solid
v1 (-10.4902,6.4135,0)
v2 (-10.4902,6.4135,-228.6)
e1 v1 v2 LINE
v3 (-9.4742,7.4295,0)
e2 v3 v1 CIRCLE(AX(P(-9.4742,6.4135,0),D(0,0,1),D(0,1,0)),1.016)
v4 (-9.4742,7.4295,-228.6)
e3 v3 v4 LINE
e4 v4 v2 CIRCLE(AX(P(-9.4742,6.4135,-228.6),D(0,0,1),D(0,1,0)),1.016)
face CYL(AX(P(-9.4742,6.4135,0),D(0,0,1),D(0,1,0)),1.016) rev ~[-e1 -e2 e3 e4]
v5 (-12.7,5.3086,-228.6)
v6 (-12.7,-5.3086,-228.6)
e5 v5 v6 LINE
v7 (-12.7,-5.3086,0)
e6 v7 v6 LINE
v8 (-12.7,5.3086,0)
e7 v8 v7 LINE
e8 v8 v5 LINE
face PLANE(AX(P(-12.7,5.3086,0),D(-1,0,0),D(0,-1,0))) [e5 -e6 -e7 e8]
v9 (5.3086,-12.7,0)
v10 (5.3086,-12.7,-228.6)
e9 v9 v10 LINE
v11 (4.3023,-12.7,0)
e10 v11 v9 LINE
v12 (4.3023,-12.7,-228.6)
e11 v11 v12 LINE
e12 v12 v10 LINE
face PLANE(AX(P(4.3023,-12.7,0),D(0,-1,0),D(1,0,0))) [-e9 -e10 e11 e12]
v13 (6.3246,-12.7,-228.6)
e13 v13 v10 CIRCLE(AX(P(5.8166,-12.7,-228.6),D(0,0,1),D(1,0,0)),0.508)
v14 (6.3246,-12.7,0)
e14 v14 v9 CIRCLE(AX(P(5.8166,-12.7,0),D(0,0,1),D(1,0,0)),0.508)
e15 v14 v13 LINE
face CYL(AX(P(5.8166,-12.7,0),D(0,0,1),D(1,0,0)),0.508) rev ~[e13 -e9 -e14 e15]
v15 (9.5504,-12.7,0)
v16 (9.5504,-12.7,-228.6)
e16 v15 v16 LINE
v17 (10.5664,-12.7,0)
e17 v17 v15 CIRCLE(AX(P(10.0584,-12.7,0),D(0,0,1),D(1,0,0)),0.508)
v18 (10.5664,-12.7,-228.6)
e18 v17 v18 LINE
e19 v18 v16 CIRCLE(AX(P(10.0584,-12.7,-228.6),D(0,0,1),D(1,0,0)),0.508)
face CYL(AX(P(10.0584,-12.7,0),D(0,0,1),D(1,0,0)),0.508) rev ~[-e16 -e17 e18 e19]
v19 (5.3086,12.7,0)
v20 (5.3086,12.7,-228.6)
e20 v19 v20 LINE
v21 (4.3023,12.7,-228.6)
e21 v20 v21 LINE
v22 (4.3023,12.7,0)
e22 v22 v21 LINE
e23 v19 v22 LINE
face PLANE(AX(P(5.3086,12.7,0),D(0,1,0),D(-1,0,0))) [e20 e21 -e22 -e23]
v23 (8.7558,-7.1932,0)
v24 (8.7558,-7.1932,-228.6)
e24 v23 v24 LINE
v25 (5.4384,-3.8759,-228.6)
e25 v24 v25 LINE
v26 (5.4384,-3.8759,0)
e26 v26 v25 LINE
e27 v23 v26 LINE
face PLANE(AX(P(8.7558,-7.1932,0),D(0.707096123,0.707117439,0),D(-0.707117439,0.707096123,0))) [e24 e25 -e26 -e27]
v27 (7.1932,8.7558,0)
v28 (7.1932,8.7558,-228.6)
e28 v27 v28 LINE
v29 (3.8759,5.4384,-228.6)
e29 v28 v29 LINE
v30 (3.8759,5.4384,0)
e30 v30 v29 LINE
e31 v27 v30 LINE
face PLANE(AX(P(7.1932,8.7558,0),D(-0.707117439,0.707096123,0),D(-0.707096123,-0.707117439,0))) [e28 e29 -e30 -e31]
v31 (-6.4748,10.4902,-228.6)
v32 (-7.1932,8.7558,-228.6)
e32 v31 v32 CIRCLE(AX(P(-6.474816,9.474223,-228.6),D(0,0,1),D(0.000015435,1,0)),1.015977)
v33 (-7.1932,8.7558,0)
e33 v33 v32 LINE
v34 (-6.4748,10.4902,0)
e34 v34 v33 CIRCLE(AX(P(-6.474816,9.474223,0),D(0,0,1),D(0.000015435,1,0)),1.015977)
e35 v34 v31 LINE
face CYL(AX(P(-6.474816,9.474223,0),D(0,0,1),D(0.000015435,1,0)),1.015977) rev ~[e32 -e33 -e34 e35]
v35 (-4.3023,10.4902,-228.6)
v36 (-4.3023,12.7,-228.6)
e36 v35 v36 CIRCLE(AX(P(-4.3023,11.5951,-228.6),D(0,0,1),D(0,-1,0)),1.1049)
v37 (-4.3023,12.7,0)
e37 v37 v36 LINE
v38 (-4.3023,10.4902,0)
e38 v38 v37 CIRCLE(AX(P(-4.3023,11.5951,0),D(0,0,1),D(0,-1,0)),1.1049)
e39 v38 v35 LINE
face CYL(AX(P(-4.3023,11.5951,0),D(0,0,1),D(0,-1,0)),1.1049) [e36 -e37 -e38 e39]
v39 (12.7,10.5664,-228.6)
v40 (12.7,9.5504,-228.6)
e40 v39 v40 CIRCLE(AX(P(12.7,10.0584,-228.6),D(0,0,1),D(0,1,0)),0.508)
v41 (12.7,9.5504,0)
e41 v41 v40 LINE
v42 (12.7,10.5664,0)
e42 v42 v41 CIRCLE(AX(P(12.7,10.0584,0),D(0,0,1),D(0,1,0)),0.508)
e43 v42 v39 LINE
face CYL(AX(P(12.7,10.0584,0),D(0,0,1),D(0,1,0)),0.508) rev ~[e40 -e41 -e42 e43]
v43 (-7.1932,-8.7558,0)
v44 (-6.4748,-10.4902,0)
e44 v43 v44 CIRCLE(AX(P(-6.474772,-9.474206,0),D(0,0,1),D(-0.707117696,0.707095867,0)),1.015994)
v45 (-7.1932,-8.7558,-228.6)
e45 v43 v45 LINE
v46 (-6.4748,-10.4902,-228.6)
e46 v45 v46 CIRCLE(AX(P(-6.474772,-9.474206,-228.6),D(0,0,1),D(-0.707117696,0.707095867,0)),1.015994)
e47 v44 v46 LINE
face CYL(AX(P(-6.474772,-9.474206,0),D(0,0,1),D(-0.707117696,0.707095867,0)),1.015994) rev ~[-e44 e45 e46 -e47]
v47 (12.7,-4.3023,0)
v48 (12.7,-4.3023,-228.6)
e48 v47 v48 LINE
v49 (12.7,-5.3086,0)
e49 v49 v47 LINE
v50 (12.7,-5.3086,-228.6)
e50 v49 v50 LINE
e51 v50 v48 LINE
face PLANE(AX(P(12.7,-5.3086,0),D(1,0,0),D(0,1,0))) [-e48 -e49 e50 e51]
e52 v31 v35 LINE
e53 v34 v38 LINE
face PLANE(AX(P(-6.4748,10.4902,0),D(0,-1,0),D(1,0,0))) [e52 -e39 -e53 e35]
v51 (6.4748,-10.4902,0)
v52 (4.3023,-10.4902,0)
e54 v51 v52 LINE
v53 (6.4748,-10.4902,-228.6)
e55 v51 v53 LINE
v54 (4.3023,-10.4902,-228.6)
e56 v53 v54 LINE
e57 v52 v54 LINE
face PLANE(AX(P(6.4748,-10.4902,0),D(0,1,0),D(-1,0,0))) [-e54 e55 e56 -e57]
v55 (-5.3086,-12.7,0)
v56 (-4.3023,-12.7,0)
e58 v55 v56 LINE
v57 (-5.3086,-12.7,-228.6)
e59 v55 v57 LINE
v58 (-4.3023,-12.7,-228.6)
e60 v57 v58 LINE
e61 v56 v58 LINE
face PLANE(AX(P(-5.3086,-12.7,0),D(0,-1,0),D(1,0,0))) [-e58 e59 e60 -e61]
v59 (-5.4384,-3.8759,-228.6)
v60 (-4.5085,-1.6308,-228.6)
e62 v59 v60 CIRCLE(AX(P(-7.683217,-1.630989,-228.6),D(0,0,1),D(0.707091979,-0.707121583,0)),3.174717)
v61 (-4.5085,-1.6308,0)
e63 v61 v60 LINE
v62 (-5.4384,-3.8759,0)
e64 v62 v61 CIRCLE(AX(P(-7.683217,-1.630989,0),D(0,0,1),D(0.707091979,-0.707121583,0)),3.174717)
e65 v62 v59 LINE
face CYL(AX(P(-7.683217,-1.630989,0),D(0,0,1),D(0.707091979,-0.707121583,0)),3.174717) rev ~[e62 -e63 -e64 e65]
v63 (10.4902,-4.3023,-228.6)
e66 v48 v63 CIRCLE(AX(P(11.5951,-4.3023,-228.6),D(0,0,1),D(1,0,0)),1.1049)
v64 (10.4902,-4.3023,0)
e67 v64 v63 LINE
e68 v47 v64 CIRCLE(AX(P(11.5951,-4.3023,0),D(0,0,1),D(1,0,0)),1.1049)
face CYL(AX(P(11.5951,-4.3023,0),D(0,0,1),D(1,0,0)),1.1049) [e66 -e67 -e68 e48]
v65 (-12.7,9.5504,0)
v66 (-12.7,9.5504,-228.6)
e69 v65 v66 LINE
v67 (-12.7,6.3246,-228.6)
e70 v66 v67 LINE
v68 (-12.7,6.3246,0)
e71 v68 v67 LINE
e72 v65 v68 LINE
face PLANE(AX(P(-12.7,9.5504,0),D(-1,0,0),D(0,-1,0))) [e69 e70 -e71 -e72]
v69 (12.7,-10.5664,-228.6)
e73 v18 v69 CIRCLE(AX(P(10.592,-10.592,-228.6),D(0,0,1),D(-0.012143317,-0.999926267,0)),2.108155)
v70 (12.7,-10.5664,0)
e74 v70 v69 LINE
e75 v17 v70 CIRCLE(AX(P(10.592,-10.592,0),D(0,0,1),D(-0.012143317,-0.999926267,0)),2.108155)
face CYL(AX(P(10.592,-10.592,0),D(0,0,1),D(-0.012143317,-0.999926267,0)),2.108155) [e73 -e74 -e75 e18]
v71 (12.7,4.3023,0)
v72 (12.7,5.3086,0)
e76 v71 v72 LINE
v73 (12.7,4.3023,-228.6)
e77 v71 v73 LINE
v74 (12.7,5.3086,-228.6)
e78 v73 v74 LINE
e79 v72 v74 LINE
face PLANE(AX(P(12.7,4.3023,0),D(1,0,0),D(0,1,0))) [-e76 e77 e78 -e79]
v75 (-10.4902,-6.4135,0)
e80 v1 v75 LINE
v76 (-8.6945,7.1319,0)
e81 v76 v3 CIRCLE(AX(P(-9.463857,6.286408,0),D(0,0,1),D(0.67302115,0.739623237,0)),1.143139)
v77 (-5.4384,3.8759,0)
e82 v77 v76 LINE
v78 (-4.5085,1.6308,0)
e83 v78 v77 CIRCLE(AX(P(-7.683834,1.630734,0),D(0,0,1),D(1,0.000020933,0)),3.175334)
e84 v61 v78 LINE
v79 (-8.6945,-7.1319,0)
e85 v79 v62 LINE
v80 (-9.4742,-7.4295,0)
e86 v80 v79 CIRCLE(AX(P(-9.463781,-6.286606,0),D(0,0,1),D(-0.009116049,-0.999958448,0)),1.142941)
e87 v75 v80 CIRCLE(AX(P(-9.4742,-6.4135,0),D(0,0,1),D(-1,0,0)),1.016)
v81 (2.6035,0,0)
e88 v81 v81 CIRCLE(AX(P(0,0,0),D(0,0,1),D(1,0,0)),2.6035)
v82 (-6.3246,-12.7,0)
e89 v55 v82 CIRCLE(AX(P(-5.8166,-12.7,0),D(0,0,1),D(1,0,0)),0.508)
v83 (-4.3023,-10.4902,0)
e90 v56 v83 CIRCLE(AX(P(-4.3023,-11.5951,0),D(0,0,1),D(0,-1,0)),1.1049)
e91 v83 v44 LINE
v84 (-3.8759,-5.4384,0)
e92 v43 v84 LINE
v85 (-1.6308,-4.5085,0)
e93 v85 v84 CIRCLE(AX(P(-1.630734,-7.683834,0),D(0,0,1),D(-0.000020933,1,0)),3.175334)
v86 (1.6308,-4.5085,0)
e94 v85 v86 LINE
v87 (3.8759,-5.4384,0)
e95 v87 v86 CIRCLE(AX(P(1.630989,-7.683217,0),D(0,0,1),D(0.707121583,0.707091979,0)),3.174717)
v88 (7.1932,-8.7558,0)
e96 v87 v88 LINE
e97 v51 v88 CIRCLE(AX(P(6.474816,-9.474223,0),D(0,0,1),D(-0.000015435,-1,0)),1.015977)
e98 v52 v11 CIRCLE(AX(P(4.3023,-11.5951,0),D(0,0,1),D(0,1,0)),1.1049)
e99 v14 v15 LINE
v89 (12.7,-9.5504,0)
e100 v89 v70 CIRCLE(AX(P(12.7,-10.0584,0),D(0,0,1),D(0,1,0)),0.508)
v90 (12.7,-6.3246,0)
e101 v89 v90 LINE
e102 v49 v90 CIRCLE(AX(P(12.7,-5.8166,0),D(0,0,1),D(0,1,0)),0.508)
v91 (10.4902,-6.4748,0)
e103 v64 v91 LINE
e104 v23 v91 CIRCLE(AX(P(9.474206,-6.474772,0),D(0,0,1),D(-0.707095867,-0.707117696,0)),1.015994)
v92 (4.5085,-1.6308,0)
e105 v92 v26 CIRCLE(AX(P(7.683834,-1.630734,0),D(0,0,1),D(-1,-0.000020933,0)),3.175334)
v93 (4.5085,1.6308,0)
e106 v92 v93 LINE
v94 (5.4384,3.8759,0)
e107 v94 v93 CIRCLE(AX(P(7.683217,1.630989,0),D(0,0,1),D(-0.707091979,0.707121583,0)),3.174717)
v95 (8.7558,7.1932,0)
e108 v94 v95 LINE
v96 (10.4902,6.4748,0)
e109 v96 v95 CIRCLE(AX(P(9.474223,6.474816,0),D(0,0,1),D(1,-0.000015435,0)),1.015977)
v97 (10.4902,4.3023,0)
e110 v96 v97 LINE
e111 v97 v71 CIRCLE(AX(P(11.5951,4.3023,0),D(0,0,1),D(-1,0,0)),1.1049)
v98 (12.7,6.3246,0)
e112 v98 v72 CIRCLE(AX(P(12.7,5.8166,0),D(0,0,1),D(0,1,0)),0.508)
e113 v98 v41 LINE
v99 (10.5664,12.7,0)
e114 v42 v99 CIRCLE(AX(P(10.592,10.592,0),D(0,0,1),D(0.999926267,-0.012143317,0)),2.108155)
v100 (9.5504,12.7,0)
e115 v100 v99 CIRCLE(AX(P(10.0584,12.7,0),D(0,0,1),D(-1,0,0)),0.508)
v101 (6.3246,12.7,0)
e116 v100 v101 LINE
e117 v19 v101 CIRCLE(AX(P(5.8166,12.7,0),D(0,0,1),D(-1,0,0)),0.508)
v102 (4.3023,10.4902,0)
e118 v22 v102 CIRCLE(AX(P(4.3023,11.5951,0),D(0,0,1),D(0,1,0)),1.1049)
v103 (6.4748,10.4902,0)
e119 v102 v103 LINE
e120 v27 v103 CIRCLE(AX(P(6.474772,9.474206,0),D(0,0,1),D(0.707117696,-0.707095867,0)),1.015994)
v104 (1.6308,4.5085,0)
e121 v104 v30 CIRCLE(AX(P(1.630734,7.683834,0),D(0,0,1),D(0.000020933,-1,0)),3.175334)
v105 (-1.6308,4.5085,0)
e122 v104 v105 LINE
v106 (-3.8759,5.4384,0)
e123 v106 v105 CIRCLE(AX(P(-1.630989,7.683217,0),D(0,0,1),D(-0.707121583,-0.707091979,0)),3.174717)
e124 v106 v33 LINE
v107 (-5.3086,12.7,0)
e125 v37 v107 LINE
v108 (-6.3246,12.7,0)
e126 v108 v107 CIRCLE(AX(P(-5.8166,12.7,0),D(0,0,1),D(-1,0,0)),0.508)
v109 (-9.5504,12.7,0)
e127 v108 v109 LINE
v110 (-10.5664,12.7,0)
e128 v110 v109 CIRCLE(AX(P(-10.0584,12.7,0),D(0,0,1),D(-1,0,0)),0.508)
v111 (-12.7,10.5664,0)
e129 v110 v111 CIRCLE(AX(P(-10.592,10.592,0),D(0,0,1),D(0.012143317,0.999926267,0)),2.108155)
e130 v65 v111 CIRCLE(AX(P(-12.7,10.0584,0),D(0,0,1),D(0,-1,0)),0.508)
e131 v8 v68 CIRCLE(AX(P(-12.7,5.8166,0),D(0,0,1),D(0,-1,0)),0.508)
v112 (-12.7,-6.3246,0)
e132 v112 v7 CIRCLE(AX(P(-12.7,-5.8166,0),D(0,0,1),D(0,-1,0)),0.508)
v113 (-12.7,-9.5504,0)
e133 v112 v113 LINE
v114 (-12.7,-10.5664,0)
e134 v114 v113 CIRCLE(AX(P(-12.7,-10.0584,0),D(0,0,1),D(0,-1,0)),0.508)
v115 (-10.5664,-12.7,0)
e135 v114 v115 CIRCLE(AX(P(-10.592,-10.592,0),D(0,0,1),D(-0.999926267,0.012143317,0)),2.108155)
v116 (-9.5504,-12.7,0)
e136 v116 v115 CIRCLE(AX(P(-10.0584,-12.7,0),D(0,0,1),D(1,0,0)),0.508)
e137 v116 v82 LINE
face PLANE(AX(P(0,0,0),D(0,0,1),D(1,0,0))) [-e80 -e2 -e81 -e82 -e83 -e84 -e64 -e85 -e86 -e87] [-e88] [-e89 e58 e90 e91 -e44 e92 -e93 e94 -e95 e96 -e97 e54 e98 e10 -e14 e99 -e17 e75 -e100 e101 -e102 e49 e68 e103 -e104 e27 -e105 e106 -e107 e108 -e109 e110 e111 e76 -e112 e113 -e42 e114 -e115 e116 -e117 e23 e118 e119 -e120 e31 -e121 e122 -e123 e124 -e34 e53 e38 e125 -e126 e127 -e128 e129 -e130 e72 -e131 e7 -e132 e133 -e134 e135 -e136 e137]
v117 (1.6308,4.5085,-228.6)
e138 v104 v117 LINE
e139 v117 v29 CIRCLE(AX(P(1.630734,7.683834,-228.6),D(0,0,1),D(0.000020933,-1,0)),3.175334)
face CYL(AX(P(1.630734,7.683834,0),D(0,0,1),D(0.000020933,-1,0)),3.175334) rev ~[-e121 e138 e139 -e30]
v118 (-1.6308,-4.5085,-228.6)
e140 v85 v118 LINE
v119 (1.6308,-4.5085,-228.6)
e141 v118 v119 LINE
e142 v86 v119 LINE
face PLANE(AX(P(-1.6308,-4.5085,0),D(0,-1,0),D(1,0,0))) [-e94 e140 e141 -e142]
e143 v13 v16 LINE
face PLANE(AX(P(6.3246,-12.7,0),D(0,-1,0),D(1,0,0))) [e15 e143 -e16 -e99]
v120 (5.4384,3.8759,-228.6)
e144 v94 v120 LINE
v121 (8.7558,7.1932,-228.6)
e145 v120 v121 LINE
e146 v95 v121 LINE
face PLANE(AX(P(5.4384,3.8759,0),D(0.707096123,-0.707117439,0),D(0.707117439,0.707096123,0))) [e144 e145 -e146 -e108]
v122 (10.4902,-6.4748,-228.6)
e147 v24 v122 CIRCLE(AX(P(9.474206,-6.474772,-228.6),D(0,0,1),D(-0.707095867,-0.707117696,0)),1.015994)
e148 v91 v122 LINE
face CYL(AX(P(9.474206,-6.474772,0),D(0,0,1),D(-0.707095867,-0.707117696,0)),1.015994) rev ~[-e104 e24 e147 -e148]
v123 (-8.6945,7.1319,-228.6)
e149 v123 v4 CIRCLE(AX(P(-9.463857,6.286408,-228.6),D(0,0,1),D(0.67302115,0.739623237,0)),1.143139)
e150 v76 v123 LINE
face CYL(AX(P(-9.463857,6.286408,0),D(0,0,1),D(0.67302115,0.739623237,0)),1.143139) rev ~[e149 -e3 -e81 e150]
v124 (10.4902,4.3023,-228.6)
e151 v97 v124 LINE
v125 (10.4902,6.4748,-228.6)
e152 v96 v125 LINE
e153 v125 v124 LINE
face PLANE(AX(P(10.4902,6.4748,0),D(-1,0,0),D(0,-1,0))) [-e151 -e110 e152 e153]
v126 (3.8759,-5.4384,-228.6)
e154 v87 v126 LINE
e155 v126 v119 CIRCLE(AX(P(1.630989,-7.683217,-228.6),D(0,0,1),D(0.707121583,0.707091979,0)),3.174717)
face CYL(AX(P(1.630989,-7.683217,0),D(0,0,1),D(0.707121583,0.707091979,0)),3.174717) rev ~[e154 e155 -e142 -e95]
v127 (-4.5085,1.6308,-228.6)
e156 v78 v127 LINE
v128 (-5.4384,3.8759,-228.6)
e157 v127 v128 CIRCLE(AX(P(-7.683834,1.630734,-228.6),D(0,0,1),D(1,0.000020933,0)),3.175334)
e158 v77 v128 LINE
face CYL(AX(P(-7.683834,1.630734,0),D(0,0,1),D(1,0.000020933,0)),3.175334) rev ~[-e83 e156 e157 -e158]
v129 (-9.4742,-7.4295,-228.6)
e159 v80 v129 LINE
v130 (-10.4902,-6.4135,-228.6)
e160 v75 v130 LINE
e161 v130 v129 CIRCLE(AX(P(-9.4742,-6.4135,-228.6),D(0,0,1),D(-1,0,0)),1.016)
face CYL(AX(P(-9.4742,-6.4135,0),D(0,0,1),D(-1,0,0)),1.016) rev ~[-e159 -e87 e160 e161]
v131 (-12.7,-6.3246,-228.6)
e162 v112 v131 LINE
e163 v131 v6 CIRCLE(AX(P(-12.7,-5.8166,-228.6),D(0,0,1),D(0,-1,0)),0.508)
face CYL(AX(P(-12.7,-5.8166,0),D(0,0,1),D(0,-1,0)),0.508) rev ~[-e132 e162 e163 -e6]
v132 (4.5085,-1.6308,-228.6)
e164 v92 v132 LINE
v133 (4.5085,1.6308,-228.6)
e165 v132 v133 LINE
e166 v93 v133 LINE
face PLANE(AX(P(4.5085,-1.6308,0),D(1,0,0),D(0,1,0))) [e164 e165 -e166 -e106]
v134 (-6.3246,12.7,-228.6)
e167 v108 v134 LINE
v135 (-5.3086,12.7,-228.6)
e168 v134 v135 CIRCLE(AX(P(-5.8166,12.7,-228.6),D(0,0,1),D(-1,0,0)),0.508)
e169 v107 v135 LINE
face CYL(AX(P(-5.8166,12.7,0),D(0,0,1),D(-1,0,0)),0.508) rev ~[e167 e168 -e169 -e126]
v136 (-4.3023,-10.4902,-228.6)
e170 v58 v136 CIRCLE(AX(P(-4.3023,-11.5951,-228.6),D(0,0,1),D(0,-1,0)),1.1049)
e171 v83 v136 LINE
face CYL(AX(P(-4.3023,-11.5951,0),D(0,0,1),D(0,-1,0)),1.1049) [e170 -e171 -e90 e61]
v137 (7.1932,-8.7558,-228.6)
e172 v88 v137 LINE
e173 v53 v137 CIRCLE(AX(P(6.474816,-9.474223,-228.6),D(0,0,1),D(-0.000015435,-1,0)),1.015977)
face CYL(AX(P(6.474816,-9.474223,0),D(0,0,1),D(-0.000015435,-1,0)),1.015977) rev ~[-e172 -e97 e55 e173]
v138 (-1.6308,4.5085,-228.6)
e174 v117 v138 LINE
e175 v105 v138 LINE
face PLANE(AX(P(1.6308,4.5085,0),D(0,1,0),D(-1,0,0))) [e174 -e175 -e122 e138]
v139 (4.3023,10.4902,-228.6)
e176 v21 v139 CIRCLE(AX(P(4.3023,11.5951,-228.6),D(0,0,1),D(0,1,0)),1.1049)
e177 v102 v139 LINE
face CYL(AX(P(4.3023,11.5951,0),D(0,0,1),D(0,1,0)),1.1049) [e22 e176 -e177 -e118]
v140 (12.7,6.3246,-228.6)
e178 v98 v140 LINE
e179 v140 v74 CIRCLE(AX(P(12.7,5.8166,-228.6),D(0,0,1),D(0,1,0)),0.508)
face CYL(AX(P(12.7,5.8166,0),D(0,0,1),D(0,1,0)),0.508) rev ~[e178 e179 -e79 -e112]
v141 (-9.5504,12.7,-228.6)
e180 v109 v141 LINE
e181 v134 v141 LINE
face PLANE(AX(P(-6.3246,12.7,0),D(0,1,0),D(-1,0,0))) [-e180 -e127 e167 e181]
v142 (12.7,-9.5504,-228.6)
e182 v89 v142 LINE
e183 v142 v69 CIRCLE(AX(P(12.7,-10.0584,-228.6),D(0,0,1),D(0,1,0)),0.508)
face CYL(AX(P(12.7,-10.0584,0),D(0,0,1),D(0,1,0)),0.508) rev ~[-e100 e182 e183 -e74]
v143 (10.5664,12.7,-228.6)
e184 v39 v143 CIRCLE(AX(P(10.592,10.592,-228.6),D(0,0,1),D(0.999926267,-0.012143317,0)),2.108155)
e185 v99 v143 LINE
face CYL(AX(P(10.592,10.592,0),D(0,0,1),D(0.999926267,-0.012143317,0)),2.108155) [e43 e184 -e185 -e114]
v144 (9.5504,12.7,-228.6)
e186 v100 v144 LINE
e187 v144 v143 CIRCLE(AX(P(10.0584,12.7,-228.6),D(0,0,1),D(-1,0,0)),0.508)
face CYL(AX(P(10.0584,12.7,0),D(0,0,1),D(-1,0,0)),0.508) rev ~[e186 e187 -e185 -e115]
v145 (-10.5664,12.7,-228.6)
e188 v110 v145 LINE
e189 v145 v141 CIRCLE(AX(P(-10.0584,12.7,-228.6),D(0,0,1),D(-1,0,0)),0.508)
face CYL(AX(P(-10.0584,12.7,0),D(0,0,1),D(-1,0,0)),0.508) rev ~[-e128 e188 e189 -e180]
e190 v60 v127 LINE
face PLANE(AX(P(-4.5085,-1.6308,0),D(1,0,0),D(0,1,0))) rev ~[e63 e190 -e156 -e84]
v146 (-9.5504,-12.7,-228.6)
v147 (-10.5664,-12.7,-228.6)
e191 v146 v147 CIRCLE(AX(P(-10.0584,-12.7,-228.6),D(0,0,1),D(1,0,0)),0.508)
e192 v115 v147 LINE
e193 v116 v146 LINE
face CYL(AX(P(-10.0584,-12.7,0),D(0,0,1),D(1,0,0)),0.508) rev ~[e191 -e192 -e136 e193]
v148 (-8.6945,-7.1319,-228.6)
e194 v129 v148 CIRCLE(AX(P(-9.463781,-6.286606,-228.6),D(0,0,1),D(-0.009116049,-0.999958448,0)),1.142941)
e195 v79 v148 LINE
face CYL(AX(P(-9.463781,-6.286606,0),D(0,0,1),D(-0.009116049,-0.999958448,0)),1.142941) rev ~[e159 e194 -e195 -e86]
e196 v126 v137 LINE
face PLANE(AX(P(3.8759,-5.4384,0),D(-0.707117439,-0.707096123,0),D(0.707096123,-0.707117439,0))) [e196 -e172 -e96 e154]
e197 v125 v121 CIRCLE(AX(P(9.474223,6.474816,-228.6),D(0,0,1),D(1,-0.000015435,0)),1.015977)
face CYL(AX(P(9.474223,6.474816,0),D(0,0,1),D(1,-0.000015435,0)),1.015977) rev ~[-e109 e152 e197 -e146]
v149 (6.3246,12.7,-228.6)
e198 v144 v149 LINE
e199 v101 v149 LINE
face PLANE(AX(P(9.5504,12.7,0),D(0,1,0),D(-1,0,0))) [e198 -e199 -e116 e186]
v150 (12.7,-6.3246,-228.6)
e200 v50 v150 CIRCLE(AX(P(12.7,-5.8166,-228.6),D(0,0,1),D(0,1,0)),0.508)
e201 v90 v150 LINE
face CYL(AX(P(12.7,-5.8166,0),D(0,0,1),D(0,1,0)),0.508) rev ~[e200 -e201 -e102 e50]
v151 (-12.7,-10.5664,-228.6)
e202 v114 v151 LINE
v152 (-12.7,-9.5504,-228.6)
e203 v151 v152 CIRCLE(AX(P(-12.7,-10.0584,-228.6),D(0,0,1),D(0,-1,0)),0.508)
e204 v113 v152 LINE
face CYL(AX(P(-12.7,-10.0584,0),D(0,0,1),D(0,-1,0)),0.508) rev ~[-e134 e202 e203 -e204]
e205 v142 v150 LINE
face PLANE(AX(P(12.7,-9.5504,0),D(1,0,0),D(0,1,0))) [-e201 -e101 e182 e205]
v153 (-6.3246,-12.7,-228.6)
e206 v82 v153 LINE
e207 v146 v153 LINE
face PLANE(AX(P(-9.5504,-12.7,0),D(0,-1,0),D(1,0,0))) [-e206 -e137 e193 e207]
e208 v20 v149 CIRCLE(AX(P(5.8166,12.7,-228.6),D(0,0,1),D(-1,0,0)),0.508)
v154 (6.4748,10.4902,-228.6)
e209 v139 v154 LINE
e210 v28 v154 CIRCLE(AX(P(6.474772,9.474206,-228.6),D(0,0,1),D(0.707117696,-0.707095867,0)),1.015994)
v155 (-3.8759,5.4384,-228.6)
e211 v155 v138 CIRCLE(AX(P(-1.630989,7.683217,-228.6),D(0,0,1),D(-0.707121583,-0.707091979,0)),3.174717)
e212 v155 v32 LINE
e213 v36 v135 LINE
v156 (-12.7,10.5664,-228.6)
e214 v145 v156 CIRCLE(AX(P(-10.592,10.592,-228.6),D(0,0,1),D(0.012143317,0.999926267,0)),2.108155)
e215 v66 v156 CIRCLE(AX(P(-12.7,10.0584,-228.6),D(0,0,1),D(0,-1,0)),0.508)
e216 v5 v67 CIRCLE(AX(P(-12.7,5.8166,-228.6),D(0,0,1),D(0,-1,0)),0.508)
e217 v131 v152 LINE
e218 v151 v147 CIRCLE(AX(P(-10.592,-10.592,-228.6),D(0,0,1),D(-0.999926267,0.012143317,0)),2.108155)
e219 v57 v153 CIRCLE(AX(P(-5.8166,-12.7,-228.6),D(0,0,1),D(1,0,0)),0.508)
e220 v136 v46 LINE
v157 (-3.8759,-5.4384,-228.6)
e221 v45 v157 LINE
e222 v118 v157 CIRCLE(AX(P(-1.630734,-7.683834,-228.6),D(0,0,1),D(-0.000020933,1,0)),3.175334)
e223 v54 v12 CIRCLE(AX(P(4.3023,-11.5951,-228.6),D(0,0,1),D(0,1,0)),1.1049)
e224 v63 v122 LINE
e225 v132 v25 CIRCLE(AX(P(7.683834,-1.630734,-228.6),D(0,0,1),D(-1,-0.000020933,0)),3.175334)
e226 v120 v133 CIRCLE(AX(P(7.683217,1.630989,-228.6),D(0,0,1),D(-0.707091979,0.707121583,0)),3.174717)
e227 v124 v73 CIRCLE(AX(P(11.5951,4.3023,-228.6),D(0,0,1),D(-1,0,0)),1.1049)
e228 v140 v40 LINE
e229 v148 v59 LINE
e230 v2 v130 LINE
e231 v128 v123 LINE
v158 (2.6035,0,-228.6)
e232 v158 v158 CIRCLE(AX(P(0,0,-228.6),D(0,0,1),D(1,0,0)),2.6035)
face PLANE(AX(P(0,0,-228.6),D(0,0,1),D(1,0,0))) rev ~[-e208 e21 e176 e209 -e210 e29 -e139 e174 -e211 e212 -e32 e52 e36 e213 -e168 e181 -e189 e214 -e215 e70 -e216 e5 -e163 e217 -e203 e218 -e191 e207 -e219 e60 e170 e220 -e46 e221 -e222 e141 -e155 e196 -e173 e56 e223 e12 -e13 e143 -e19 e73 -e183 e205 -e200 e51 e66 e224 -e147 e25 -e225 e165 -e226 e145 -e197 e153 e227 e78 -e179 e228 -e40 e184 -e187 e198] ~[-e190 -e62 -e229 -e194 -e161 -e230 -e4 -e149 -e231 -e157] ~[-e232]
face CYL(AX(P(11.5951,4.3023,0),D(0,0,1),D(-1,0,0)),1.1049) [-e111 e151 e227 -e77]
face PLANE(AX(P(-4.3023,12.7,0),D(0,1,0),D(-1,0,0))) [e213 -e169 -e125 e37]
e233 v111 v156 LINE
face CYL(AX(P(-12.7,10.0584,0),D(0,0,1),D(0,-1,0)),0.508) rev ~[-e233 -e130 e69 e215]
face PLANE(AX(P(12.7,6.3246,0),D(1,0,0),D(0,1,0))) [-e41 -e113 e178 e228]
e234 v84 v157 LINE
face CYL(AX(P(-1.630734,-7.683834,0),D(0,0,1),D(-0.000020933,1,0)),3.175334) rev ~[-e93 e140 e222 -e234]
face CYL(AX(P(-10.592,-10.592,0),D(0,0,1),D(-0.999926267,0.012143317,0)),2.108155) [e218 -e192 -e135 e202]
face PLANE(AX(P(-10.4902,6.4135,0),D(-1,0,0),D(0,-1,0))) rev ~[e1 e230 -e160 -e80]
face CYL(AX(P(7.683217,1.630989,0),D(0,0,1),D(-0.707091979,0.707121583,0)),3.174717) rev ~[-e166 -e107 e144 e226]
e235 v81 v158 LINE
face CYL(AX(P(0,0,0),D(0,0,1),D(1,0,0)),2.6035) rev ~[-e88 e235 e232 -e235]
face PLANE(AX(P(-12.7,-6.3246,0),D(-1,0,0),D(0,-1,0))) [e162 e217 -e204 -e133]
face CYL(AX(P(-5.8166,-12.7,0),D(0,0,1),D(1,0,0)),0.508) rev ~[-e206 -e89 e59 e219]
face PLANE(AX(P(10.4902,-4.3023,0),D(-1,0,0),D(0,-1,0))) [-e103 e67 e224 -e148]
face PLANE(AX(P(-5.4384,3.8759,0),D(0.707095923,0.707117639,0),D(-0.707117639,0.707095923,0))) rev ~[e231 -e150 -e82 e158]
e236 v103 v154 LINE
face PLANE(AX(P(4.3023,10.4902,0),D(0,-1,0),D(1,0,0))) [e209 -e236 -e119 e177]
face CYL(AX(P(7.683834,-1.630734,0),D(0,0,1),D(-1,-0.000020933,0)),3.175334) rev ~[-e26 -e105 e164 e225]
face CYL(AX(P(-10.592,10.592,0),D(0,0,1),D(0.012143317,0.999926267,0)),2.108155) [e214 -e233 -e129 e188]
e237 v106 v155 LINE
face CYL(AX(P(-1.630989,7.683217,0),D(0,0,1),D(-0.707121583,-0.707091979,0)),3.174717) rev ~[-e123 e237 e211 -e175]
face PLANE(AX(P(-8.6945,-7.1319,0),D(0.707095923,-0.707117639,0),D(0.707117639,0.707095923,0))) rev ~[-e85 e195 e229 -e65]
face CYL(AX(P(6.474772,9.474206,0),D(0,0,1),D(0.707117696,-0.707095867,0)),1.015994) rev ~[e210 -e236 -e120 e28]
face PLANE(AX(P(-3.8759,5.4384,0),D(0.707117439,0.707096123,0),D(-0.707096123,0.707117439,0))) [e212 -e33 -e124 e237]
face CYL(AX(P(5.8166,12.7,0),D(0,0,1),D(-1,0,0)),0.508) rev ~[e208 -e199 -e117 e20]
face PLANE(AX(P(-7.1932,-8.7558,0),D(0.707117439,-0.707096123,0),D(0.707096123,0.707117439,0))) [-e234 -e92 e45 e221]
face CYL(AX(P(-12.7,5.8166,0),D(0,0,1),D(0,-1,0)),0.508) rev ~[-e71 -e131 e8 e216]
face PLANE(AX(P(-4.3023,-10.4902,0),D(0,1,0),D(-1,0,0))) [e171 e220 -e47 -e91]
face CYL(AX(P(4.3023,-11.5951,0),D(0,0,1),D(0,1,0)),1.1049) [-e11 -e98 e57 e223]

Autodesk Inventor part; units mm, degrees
ref_plane "YZ Plane" through (0, 0, 0) normal (1, 0, 0) x (0, 1, 0)
ref_plane "XZ Plane" through (0, 0, 0) normal (0, 1, 0) x (-1, 0, 0)
ref_plane "XY Plane" through (0, 0, 0) normal (0, 0, 1) x (1, 0, 0)
sketch "Sketch_1" plane through (0, 0, 0) normal (0, 0, 1) x (1, 0, 0)
  arc A0 (-12.7, -10.5664) -> (-10.5664, -12.7) centre (-10.592, -10.592) ccw
  arc A1 (-9.5504, -12.7) -> (-10.5664, -12.7) centre (-10.0584, -12.7) ccw
  line L0 (-9.5504, -12.7) -> (-6.3246, -12.7)
  arc A2 (-5.3086, -12.7) -> (-6.3246, -12.7) centre (-5.8166, -12.7) ccw
  line L1 (-5.3086, -12.7) -> (-4.3023, -12.7)
  arc A3 (-4.3023, -12.7) -> (-4.3023, -10.4902) centre (-4.3023, -11.5951) ccw
  line L2 (-4.3023, -10.4902) -> (-6.4748, -10.4902)
  arc A4 (-7.1932, -8.7558) -> (-6.4748, -10.4902) centre (-6.4748, -9.4742) ccw
  line L3 (-7.1932, -8.7558) -> (-3.8759, -5.4384)
  arc A5 (-1.6308, -4.5085) -> (-3.8759, -5.4384) centre (-1.6308, -7.6835) ccw
  line L4 (-1.6308, -4.5085) -> (1.6308, -4.5085)
  arc A6 (3.8759, -5.4384) -> (1.6308, -4.5085) centre (1.6308, -7.6835) ccw
  line L5 (3.8759, -5.4384) -> (7.1932, -8.7558)
  arc A7 (6.4748, -10.4902) -> (7.1932, -8.7558) centre (6.4748, -9.4742) ccw
  line L6 (6.4748, -10.4902) -> (4.3023, -10.4902)
  arc A8 (4.3023, -10.4902) -> (4.3023, -12.7) centre (4.3023, -11.5951) ccw
  line L7 (4.3023, -12.7) -> (5.3086, -12.7)
  arc A9 (6.3246, -12.7) -> (5.3086, -12.7) centre (5.8166, -12.7) ccw
  line L8 (6.3246, -12.7) -> (9.5504, -12.7)
  arc A10 (10.5664, -12.7) -> (9.5504, -12.7) centre (10.0584, -12.7) ccw
  arc A11 (10.5664, -12.7) -> (12.7, -10.5664) centre (10.592, -10.592) ccw
  arc A12 (12.7, -9.5504) -> (12.7, -10.5664) centre (12.7, -10.0584) ccw
  line L9 (12.7, -9.5504) -> (12.7, -6.3246)
  arc A13 (12.7, -5.3086) -> (12.7, -6.3246) centre (12.7, -5.8166) ccw
  line L10 (12.7, -5.3086) -> (12.7, -4.3023)
  arc A14 (12.7, -4.3023) -> (10.4902, -4.3023) centre (11.5951, -4.3023) ccw
  line L11 (10.4902, -4.3023) -> (10.4902, -6.4748)
  arc A15 (8.7558, -7.1932) -> (10.4902, -6.4748) centre (9.4742, -6.4748) ccw
  line L12 (8.7558, -7.1932) -> (5.4384, -3.8759)
  arc A16 (4.5085, -1.6308) -> (5.4384, -3.8759) centre (7.6835, -1.6308) ccw
  line L13 (4.5085, -1.6308) -> (4.5085, 1.6308)
  arc A17 (5.4384, 3.8759) -> (4.5085, 1.6308) centre (7.6835, 1.6308) ccw
  line L14 (5.4384, 3.8759) -> (8.7558, 7.1932)
  arc A18 (10.4902, 6.4748) -> (8.7558, 7.1932) centre (9.4742, 6.4748) ccw
  line L15 (10.4902, 6.4748) -> (10.4902, 4.3023)
  arc A19 (10.4902, 4.3023) -> (12.7, 4.3023) centre (11.5951, 4.3023) ccw
  line L16 (12.7, 4.3023) -> (12.7, 5.3086)
  arc A20 (12.7, 6.3246) -> (12.7, 5.3086) centre (12.7, 5.8166) ccw
  line L17 (12.7, 6.3246) -> (12.7, 9.5504)
  arc A21 (12.7, 10.5664) -> (12.7, 9.5504) centre (12.7, 10.0584) ccw
  arc A22 (12.7, 10.5664) -> (10.5664, 12.7) centre (10.592, 10.592) ccw
  arc A23 (9.5504, 12.7) -> (10.5664, 12.7) centre (10.0584, 12.7) ccw
  line L18 (9.5504, 12.7) -> (6.3246, 12.7)
  arc A24 (5.3086, 12.7) -> (6.3246, 12.7) centre (5.8166, 12.7) ccw
  line L19 (5.3086, 12.7) -> (4.3023, 12.7)
  arc A25 (4.3023, 12.7) -> (4.3023, 10.4902) centre (4.3023, 11.5951) ccw
  line L20 (4.3023, 10.4902) -> (6.4748, 10.4902)
  arc A26 (7.1932, 8.7558) -> (6.4748, 10.4902) centre (6.4748, 9.4742) ccw
  line L21 (7.1932, 8.7558) -> (3.8759, 5.4384)
  arc A27 (1.6308, 4.5085) -> (3.8759, 5.4384) centre (1.6308, 7.6835) ccw
  line L22 (1.6308, 4.5085) -> (-1.6308, 4.5085)
  arc A28 (-3.8759, 5.4384) -> (-1.6308, 4.5085) centre (-1.6308, 7.6835) ccw
  line L23 (-3.8759, 5.4384) -> (-7.1932, 8.7558)
  arc A29 (-6.4748, 10.4902) -> (-7.1932, 8.7558) centre (-6.4748, 9.4742) ccw
  line L24 (-6.4748, 10.4902) -> (-4.3023, 10.4902)
  arc A30 (-4.3023, 10.4902) -> (-4.3023, 12.7) centre (-4.3023, 11.5951) ccw
  line L25 (-4.3023, 12.7) -> (-5.3086, 12.7)
  arc A31 (-6.3246, 12.7) -> (-5.3086, 12.7) centre (-5.8166, 12.7) ccw
  line L26 (-6.3246, 12.7) -> (-9.5504, 12.7)
  arc A32 (-10.5664, 12.7) -> (-9.5504, 12.7) centre (-10.0584, 12.7) ccw
  arc A33 (-10.5664, 12.7) -> (-12.7, 10.5664) centre (-10.592, 10.592) ccw
  arc A34 (-12.7, 9.5504) -> (-12.7, 10.5664) centre (-12.7, 10.0584) ccw
  line L27 (-12.7, 9.5504) -> (-12.7, 6.3246)
  arc A35 (-12.7, 5.3086) -> (-12.7, 6.3246) centre (-12.7, 5.8166) ccw
  line L28 (-12.7, 5.3086) -> (-12.7, -5.3086)
  arc A36 (-12.7, -6.3246) -> (-12.7, -5.3086) centre (-12.7, -5.8166) ccw
  line L29 (-12.7, -6.3246) -> (-12.7, -9.5504)
  arc A37 (-12.7, -10.5664) -> (-12.7, -9.5504) centre (-12.7, -10.0584) ccw
  circle A38 centre (0, 0) radius 2.6035
  arc A39 (-10.4902, -6.4135) -> (-9.4742, -7.4295) centre (-9.4742, -6.4135) ccw
  arc A40 (-9.4742, -7.4295) -> (-8.6945, -7.1319) centre (-9.4638, -6.2865) ccw
  line L30 (-8.6945, -7.1319) -> (-5.4384, -3.8759)
  arc A41 (-5.4384, -3.8759) -> (-4.5085, -1.6308) centre (-7.6835, -1.6308) ccw
  line L31 (-4.5085, -1.6308) -> (-4.5085, 1.6308)
  arc A42 (-4.5085, 1.6308) -> (-5.4384, 3.8759) centre (-7.6835, 1.6308) ccw
  line L32 (-5.4384, 3.8759) -> (-8.6945, 7.1319)
  arc A43 (-8.6945, 7.1319) -> (-9.4742, 7.4295) centre (-9.4638, 6.2865) ccw
  arc A44 (-9.4742, 7.4295) -> (-10.4902, 6.4135) centre (-9.4742, 6.4135) ccw
  line L33 (-10.4902, 6.4135) -> (-10.4902, -6.4135)
extrude "Extrusion1" add sketch "Sketch_1" against normal blind 228.6
properties part number "1003-9-CL"
